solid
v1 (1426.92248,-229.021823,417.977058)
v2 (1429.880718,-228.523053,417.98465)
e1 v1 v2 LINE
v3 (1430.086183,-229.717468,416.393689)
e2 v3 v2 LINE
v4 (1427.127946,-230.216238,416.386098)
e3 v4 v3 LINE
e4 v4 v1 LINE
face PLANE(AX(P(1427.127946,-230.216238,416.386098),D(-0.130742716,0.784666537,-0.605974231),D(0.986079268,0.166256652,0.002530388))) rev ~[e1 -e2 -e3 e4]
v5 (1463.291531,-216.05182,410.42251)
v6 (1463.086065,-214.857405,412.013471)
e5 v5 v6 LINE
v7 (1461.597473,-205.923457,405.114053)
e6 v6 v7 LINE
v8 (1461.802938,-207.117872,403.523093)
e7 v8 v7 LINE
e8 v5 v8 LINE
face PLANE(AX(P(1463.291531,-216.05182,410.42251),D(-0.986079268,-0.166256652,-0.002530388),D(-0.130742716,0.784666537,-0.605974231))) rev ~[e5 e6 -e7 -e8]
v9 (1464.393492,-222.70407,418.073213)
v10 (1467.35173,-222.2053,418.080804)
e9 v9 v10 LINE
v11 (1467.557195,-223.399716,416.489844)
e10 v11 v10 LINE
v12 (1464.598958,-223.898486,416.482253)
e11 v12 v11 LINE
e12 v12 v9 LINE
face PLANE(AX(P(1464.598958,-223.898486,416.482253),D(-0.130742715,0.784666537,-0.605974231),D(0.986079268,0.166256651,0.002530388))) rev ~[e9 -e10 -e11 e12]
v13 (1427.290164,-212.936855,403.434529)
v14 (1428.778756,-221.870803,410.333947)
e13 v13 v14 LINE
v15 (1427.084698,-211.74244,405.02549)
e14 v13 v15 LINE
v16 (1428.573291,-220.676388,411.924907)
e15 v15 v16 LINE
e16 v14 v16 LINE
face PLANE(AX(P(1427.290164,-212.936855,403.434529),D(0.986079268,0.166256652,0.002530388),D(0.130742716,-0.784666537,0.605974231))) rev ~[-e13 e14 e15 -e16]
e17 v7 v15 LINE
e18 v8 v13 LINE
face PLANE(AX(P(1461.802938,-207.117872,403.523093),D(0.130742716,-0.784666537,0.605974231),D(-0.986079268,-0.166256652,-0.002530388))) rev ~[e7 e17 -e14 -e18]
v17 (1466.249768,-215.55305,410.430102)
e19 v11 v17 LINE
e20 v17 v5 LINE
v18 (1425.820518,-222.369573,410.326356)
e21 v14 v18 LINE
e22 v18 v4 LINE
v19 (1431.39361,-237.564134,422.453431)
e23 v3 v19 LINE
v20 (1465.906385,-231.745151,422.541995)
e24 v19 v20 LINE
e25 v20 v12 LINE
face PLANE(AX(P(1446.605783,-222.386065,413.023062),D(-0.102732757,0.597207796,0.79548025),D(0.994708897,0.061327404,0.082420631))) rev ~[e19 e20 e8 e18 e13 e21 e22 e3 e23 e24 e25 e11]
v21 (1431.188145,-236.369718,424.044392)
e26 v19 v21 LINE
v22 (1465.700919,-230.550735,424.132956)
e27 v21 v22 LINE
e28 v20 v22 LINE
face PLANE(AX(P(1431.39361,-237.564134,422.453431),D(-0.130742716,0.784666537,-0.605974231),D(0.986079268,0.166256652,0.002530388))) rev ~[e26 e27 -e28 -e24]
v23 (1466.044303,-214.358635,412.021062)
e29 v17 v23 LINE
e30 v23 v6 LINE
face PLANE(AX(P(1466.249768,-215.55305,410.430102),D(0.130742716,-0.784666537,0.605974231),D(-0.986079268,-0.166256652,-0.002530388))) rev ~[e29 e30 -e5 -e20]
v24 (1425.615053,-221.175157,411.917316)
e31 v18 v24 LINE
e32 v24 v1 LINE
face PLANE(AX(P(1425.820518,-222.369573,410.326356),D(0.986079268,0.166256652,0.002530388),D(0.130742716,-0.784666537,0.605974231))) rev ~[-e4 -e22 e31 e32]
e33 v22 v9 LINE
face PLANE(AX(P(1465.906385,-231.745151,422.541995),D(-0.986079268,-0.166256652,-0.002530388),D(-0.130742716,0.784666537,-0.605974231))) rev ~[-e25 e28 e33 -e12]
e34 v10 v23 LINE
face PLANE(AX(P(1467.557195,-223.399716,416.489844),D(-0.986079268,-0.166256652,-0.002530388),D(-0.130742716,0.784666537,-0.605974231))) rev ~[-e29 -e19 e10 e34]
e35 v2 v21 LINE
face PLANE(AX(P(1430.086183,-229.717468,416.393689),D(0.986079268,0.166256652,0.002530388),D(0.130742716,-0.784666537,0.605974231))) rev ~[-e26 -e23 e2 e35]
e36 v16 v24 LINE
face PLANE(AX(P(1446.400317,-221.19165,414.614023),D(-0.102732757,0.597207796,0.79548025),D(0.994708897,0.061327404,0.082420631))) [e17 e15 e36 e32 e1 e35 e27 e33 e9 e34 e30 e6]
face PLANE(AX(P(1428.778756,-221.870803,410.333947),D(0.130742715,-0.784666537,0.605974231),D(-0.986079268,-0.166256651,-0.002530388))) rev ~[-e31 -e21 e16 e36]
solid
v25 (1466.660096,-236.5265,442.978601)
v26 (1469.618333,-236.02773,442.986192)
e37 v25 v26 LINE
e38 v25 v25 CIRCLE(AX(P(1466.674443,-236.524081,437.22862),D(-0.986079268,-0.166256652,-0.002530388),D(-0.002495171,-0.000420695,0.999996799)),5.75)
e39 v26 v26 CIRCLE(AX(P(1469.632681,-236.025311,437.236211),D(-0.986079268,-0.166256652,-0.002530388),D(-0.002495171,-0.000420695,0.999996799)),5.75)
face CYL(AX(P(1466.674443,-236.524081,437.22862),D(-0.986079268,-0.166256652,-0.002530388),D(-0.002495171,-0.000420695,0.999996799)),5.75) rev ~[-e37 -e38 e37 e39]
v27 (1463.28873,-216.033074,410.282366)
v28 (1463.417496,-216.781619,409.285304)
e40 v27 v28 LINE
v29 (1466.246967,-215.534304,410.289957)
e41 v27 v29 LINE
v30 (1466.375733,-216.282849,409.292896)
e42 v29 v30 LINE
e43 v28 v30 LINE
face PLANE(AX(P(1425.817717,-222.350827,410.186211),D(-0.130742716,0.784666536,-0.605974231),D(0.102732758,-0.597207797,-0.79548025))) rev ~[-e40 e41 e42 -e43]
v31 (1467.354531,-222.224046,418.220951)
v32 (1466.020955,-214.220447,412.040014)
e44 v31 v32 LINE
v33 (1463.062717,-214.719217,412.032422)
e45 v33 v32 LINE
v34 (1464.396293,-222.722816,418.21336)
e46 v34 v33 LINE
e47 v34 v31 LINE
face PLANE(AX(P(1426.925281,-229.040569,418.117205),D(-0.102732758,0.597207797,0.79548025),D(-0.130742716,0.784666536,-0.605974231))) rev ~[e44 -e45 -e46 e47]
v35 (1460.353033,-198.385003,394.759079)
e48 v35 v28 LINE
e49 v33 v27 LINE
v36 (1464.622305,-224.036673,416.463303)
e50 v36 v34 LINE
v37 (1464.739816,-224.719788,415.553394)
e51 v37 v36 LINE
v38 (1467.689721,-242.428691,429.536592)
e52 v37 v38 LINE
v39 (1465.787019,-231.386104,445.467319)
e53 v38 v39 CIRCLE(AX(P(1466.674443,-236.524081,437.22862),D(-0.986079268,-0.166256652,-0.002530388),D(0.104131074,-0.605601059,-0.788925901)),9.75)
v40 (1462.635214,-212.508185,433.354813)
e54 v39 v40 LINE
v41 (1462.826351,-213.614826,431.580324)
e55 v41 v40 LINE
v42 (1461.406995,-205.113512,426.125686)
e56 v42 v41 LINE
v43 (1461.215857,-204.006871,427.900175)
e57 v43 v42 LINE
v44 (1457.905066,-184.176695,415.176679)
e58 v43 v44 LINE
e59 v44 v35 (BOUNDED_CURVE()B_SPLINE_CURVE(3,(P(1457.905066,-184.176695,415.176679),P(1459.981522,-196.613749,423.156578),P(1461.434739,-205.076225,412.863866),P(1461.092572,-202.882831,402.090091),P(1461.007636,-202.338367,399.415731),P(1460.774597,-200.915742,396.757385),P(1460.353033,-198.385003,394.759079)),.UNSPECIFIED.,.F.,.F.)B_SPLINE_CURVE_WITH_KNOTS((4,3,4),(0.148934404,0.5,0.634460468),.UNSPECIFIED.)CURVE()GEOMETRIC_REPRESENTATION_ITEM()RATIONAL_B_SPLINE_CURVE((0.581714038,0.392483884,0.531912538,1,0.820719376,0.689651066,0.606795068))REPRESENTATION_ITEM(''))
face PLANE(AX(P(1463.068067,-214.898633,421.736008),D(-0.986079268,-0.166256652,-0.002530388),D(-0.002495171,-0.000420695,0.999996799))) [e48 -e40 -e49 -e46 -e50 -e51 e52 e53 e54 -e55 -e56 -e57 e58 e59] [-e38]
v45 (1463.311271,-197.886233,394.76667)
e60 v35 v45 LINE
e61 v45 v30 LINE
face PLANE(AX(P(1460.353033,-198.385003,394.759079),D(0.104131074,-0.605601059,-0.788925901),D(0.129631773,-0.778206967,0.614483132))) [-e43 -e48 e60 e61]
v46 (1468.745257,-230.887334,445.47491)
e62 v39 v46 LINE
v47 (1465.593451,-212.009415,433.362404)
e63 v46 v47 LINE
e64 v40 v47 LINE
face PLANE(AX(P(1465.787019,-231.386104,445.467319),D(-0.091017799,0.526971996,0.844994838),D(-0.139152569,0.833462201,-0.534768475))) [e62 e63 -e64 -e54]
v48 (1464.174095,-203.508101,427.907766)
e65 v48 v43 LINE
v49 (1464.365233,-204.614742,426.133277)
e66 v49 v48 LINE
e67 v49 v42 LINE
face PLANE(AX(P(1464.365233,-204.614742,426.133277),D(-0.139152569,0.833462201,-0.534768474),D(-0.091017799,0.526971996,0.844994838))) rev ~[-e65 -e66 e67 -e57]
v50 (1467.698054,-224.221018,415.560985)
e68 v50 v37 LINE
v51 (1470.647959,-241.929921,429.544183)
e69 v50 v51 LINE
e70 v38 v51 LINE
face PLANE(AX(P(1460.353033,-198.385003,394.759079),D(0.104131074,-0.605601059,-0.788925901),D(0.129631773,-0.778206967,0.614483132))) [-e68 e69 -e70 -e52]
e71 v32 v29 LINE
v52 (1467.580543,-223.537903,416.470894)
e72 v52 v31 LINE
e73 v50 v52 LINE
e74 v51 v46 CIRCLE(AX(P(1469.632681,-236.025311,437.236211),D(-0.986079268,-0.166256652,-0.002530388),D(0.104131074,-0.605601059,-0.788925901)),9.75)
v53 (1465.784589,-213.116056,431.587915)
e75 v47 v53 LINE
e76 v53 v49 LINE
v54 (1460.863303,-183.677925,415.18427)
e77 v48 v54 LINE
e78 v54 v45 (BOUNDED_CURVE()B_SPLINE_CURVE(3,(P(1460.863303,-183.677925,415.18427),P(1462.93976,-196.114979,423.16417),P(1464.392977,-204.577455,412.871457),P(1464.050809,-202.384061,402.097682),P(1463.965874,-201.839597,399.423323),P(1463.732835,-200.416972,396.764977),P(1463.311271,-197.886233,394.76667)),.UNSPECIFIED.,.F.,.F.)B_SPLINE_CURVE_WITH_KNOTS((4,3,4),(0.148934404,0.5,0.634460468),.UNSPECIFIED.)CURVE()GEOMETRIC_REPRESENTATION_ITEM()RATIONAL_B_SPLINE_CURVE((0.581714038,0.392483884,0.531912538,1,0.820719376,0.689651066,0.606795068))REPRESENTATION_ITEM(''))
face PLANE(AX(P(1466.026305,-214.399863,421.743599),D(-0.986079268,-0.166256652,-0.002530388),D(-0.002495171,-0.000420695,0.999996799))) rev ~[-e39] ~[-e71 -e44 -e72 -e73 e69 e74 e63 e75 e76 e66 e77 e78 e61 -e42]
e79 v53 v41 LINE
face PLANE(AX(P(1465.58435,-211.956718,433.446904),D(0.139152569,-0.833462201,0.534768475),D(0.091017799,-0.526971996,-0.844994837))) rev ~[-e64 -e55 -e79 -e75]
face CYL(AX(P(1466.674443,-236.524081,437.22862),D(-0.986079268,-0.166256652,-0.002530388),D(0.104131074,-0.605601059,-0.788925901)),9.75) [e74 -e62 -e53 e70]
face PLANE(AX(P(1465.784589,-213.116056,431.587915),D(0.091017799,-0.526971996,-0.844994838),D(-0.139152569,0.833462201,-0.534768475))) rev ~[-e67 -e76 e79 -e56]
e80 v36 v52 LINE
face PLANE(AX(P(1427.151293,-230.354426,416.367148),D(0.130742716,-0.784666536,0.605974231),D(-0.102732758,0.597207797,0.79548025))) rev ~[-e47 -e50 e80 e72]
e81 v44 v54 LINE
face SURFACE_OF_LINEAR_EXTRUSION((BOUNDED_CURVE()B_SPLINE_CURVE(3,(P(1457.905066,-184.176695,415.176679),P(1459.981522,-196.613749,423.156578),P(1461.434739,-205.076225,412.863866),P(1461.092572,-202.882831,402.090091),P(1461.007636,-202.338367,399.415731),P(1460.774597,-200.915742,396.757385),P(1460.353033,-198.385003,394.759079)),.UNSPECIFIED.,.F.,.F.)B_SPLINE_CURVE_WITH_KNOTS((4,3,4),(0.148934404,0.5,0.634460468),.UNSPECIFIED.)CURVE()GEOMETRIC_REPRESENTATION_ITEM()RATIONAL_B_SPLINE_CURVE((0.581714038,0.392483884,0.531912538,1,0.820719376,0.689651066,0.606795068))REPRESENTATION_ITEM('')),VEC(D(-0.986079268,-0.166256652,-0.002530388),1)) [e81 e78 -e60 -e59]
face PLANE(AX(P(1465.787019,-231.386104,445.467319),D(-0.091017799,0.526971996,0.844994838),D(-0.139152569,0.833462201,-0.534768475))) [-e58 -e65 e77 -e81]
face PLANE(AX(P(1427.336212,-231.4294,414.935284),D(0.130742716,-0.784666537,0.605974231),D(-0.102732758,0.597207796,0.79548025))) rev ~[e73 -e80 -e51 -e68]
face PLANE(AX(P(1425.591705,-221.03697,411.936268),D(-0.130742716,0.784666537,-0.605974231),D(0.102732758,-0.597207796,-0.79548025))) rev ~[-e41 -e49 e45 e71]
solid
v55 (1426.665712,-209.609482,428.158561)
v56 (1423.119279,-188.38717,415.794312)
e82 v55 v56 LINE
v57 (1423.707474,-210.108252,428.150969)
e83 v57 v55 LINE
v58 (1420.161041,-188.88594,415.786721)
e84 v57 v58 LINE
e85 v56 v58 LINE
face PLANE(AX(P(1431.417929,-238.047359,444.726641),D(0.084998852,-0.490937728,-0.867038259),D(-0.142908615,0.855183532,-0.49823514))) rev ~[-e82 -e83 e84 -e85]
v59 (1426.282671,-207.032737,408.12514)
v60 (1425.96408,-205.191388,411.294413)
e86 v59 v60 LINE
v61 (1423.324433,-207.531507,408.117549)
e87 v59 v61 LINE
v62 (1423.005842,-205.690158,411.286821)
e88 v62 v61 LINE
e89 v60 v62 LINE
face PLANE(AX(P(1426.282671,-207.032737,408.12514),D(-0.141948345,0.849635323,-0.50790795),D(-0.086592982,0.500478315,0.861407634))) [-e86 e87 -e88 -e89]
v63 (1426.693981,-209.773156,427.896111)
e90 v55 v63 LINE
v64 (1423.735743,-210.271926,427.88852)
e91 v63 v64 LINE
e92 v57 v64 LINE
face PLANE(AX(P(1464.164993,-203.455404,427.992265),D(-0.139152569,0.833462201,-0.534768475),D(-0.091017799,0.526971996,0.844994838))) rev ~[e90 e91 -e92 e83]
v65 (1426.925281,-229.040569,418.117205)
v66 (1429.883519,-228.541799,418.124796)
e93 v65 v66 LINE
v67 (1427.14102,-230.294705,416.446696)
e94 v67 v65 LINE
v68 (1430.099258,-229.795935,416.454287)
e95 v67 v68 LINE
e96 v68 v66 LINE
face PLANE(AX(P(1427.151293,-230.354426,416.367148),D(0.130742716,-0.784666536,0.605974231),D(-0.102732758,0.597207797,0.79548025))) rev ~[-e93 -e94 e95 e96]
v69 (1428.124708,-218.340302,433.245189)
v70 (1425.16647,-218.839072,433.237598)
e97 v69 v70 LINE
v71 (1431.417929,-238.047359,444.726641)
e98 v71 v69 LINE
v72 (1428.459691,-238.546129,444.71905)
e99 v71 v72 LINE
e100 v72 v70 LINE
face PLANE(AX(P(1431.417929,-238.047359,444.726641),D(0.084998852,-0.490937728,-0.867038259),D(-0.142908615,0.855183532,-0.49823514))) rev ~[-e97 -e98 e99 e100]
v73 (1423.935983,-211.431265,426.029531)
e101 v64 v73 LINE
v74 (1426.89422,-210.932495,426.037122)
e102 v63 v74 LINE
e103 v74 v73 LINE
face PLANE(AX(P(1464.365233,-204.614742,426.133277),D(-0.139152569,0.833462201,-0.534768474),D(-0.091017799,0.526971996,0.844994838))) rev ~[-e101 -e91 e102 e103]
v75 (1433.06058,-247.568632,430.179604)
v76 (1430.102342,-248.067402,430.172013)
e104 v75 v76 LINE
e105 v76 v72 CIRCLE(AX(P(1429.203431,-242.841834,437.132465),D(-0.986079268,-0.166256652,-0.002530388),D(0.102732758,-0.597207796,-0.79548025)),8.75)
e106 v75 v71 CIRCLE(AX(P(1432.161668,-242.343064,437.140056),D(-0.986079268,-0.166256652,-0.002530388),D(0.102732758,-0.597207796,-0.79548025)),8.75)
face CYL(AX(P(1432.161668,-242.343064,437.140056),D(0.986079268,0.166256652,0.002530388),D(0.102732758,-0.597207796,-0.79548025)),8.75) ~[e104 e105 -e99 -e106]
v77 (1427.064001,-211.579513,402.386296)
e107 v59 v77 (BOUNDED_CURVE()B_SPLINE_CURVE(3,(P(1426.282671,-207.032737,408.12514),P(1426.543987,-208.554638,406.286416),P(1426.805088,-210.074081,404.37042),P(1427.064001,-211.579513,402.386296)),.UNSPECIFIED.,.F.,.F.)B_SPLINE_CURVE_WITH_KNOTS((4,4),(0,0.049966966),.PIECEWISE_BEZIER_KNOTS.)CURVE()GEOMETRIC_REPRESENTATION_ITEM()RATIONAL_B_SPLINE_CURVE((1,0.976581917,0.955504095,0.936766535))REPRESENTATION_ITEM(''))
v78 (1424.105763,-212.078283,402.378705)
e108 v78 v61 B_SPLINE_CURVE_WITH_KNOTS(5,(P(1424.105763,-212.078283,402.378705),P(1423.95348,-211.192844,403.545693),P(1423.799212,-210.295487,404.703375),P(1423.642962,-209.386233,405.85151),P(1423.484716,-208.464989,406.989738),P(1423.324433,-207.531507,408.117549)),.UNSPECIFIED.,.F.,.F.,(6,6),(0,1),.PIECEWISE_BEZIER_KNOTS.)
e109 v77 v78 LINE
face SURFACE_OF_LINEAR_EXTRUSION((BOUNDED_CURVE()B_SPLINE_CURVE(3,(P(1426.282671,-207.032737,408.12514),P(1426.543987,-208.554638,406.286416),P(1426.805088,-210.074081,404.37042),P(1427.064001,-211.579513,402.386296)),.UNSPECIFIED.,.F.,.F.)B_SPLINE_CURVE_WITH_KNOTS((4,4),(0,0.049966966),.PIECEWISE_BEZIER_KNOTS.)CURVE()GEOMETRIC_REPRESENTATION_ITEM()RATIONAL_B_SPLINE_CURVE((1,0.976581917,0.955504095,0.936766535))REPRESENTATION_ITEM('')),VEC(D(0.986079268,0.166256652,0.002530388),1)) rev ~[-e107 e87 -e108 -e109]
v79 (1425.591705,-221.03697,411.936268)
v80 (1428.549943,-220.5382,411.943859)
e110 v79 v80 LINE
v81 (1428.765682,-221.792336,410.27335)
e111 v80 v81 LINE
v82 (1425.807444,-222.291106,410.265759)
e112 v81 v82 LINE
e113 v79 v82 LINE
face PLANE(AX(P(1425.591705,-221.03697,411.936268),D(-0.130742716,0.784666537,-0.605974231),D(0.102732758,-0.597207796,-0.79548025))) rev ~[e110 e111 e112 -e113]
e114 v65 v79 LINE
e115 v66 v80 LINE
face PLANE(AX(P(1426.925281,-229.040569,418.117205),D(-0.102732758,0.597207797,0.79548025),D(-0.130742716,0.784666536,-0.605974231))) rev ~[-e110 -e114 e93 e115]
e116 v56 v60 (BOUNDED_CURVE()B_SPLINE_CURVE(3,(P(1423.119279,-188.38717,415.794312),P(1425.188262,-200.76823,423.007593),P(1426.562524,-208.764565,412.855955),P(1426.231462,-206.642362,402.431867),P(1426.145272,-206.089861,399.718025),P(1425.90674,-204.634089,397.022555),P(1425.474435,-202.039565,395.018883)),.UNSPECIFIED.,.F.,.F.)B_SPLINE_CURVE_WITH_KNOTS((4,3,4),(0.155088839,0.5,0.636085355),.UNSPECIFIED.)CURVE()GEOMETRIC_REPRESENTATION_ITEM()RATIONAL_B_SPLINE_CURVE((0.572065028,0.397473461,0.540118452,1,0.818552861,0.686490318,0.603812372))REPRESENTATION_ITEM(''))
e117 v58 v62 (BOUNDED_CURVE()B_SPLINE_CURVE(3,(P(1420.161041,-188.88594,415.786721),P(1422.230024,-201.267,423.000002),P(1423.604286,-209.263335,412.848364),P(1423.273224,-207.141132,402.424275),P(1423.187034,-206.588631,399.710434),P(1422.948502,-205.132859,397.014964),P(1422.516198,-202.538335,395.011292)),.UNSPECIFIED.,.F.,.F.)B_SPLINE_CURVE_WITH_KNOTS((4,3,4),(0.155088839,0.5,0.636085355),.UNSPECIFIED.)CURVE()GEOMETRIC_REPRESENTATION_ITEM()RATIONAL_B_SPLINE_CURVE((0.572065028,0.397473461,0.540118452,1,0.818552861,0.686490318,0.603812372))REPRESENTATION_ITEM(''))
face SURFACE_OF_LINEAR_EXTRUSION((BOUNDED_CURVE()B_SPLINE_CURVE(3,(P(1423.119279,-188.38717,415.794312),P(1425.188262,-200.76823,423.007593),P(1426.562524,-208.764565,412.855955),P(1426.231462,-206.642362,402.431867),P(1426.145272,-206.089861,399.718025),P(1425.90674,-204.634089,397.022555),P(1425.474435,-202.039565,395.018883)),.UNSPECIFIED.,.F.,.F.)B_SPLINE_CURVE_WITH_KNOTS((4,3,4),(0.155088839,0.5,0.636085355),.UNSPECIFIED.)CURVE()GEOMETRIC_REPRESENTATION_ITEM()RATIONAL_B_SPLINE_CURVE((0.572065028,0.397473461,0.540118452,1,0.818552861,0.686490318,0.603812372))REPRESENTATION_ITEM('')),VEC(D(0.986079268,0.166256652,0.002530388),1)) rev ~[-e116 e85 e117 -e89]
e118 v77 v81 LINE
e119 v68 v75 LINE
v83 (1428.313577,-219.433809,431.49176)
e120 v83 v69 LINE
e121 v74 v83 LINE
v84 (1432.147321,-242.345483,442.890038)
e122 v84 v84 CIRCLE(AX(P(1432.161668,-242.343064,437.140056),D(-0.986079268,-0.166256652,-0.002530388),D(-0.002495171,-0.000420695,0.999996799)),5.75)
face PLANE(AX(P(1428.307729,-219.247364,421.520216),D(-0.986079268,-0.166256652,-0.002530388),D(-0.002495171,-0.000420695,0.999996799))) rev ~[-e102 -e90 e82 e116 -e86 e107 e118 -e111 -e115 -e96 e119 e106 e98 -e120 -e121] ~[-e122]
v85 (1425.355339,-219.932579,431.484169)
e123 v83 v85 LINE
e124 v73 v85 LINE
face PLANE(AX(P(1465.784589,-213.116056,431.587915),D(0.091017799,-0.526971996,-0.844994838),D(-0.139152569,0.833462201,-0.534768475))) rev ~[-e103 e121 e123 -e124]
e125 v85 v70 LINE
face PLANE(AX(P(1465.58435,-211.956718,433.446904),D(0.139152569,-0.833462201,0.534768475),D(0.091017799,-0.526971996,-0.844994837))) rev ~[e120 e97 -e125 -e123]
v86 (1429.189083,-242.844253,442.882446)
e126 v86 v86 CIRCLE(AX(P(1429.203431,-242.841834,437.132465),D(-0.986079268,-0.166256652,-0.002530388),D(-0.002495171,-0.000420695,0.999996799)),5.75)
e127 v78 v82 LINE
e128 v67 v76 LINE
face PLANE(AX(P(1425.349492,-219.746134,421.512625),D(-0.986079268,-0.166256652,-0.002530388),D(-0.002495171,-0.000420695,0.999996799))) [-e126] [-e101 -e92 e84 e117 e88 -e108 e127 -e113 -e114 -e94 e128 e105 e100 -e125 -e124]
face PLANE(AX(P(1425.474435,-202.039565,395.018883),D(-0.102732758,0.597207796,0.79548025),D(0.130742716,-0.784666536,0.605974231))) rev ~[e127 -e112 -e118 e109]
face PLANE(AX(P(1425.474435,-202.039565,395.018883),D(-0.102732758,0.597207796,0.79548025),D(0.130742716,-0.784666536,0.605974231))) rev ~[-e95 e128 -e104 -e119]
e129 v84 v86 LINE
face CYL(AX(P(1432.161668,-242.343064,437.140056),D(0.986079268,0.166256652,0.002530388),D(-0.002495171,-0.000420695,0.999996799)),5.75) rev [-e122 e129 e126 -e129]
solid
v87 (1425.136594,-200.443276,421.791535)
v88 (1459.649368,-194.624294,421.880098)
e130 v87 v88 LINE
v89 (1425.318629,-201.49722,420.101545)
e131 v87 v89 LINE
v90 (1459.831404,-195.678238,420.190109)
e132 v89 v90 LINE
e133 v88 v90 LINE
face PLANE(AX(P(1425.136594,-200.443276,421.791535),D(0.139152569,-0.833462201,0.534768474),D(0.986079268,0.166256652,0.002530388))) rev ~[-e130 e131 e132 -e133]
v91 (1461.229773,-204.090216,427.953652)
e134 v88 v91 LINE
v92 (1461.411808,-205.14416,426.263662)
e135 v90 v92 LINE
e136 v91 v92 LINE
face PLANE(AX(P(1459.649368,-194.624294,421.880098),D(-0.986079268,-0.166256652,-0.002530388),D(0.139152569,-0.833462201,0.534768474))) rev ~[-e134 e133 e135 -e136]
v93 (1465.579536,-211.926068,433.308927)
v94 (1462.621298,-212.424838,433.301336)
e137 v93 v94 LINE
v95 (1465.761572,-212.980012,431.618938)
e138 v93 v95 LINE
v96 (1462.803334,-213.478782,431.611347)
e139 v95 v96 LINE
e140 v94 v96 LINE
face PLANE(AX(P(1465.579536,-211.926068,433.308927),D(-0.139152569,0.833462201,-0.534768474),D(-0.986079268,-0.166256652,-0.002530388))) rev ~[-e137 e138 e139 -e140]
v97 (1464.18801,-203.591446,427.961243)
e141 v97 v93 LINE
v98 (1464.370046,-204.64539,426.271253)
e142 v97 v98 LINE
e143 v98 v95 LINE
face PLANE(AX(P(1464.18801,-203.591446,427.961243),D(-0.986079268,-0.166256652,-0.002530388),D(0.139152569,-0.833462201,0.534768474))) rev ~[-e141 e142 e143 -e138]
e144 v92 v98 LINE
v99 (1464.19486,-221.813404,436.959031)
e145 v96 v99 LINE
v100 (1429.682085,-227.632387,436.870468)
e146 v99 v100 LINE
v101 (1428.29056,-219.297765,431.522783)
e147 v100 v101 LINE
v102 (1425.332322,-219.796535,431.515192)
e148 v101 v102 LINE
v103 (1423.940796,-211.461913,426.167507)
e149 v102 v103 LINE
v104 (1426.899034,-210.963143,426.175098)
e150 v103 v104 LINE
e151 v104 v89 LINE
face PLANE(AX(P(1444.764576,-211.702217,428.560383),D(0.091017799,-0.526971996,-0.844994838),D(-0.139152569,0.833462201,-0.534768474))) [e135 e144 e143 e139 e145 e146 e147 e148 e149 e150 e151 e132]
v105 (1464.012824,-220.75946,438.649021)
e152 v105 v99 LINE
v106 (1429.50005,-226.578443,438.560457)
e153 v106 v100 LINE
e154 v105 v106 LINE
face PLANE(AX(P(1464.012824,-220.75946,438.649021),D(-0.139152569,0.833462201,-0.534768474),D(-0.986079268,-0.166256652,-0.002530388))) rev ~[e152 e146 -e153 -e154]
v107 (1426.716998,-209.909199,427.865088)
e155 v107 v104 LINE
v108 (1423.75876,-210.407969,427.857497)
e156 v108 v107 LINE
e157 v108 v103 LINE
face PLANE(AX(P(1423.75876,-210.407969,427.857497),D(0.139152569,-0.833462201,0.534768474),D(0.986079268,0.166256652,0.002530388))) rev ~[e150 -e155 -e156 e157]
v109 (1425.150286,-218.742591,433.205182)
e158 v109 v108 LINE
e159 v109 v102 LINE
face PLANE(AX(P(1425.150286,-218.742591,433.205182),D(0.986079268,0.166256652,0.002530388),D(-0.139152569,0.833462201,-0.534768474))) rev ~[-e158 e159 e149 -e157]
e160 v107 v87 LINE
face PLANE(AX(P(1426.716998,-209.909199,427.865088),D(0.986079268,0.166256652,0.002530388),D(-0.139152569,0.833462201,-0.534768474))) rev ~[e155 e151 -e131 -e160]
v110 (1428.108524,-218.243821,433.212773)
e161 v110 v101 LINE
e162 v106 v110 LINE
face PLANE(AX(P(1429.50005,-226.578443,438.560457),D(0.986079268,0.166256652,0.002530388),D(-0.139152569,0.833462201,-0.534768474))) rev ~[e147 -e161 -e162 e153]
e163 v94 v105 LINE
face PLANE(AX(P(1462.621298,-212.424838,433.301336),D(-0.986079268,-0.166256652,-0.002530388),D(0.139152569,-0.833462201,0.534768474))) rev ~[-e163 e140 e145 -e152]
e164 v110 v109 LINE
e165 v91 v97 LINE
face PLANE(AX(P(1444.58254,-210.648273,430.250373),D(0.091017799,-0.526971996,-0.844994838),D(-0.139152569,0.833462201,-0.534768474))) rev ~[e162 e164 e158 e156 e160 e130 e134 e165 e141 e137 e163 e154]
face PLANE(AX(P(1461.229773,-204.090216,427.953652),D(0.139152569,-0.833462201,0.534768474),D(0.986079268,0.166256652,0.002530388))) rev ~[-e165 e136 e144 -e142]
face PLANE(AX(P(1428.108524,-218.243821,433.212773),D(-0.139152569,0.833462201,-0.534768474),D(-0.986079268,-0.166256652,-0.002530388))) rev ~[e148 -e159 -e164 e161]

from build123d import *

# Parameters (mm, degrees)
SZKIC1_R                    = 5.75
DODANIE_WYCI_GNI_CIE1_DEPTH = 3
WYTNIJ_WYCI_GNI_CIE2_DEPTH  = 4
SZKIC3_R                    = 5.75
DODANIE_WYCI_GNI_CIE2_DEPTH = 3
DODANIE_WYCI_GNI_CIE3_DEPTH = 2
WYTNIJ_WYCI_GNI_CIE5_DEPTH  = 52.458233786
DODANIE_WYCI_GNI_CIE4_DEPTH = 2
WYTNIJ_WYCI_GNI_CIE6_DEPTH  = 52.326394369


with BuildPart() as part:
    # Szkic1 → Dodanie-wyciągnięcie1 (new body)
    with BuildSketch(Plane(origin=(1353.926196645, 228.277019177, 3.474323827), x_dir=(-0.002495171, -0.000420695, 0.999996799), z_dir=(-0.986079268, -0.166256652, -0.002530388))):
        with BuildLine():
            Line((441.253729445, -472.717830488), (412.321307972, -422.369080805))
            add(Edge.make_bspline(
                [(412.321307972, -422.369080805), (419.534612329, -434.921810131), (409.382942082, -443.035336139), (398.958819921, -440.887627989), (396.244969441, -440.328486537), (393.549490929, -438.853317877), (391.545812295, -436.223029822)],
                knots=[0.155088839, 0.155088839, 0.155088839, 0.155088839, 0.5, 0.5, 0.5, 0.636085355, 0.636085355, 0.636085355, 0.636085355], degree=3, weights=[0.572065028, 0.397473461, 0.540118452, 1, 0.818552861, 0.686490318, 0.603812372]))
            Line((391.545812295, -436.223029822), (426.706645918, -482.379693415))
            ThreePointArc((426.706645918, -482.379693415), (438.50818535, -484.366200864), (441.253729445, -472.717830488))
        make_face()
        with Locations((433.667120391, -477.077401919)):
            Circle(SZKIC1_R, mode=Mode.SUBTRACT)
    extrude(amount=DODANIE_WYCI_GNI_CIE1_DEPTH)

    # Szkic2 → Wytnij-wyciągnięcie2 (cut)
    with BuildSketch(Plane(origin=(1353.926196645, 228.277019177, 3.474323827), x_dir=(-0.002495171, -0.000420695, 0.999996799), z_dir=(-0.986079268, -0.166256652, -0.002530388))):
        with BuildLine():
            Line((404.65211173, -441.281083771), (407.821394229, -439.412393836))
            add(Edge.make_bspline(
                [(407.821394229, -439.412393836), (404.88822276, -441.141866675), (401.74377418, -441.461419131), (398.958819921, -440.887627989), (396.244969441, -440.328486537), (393.549490929, -438.853317877), (391.545812295, -436.223029822)],
                knots=[0.36100992, 0.36100992, 0.36100992, 0.36100992, 0.5, 0.5, 0.5, 0.636085355, 0.636085355, 0.636085355, 0.636085355], degree=3, weights=[0.598585618, 0.680875099, 0.814679893, 1, 0.818552861, 0.686490318, 0.603812372]))
            Line((391.545812295, -436.223029822), (398.913248998, -445.894481333))
            add(Edge.make_bspline(
                [(404.65211173, -441.281083771), (402.813382058, -442.825248985), (400.897379873, -444.366955046), (398.913248998, -445.894481333)],
                knots=[0, 0, 0, 0, 0.049966966, 0.049966966, 0.049966966, 0.049966966], degree=3, weights=[1, 0.976581917, 0.955504095, 0.936766535]))
        make_face()
    extrude(amount=WYTNIJ_WYCI_GNI_CIE2_DEPTH, mode=Mode.SUBTRACT)


with BuildPart() as body_2:
    # Szkic3 → Dodanie-wyciągnięcie2 (new body)
    with BuildSketch(Plane(origin=(1388.438971028, 234.096001984, 3.562887409), x_dir=(-0.002495171, -0.000420695, 0.999996799), z_dir=(-0.986079268, -0.166256652, -0.002530388))):
        with BuildLine():
            ThreePointArc((425.97506823, -483.068631638), (439.276403639, -485.052265017), (441.905846435, -471.8633926))
            Line((441.905846435, -471.8633926), (411.615109292, -424.000592643))
            add(Edge.make_bspline(
                [(411.615109292, -424.000592643), (419.595034213, -436.609779022), (409.302289126, -445.196085213), (398.528479374, -442.976330047), (395.854111239, -442.425323243), (393.195756664, -440.983753213), (391.197443428, -438.418148092)],
                knots=[0.148934404, 0.148934404, 0.148934404, 0.148934404, 0.5, 0.5, 0.5, 0.634460468, 0.634460468, 0.634460468, 0.634460468], degree=3, weights=[0.581714038, 0.392483884, 0.531912538, 1, 0.820719376, 0.689651066, 0.606795068]))
            Line((391.197443428, -438.418148092), (425.97506823, -483.068631638))
        make_face()
        with Locations((433.667120391, -477.077401919)):
            Circle(SZKIC3_R, mode=Mode.SUBTRACT)
    extrude(amount=-DODANIE_WYCI_GNI_CIE2_DEPTH)


with BuildPart() as body_3:
    # Szkic5 → Dodanie-wyciągnięcie3 (new body)
    with BuildSketch(Plane(origin=(-11.019604992, 63.800963274, 102.304268594), x_dir=(-0.139152569, 0.833462201, -0.534768474), z_dir=(0.091017799, -0.526971996, -0.844994838))):
        Polygon((-622.291479281, 1373.039917254), (-612.291479281, 1373.039917254), (-612.291479281, 1370.039917254), (-602.291479281, 1370.039917254), (-602.291479281, 1373.039917254), (-590.934128354, 1373.039917254), (-590.934128354, 1408.039917254), (-602.291479281, 1408.039917254), (-602.291479281, 1411.039917254), (-612.291479281, 1411.039917254), (-612.291479281, 1408.039917254), (-622.291479281, 1408.039917254), align=None)
    extrude(amount=DODANIE_WYCI_GNI_CIE3_DEPTH)


with BuildPart() as wytnij_wyci_gni_cie5_tool:
    # Szkic6 → Wytnij-wyciągnięcie5 (new body, through all)
    with BuildSketch(Plane(origin=(1391.397208832, 234.594771939, 3.570478573), x_dir=(0.002495171, 0.000420695, -0.999996799), z_dir=(0.986079268, 0.166256652, 0.002530388))):
        Polygon((-429.877801464, -452.670721233), (-428.01880687, -453.847215644), (-422.564150967, -445.228240705), (-424.423145562, -444.051746295), (-425.099143596, -443.623930146), (-430.553799499, -452.242905084), align=None)
    extrude(amount=-WYTNIJ_WYCI_GNI_CIE5_DEPTH)


with BuildPart() as body_2_1:
    add(body_2.part)

    # Wytnij-wyciągnięcie5: cut by wytnij_wyci_gni_cie5_tool
    add(wytnij_wyci_gni_cie5_tool.part, mode=Mode.SUBTRACT)


with BuildPart() as part_1:
    add(part.part)

    # Wytnij-wyciągnięcie5: cut by wytnij_wyci_gni_cie5_tool
    add(wytnij_wyci_gni_cie5_tool.part, mode=Mode.SUBTRACT)


with BuildPart() as body_4:
    # Szkic8 → Dodanie-wyciągnięcie4 (new body)
    with BuildSketch(Plane(origin=(-4.841506853, 28.144729202, 37.488754103), x_dir=(-0.994708897, -0.061327404, -0.082420631), z_dir=(0.102732757, -0.597207796, -0.79548025))):
        Polygon((-1476.126488844, -418.541211572), (-1474.62501424, -407.254986635), (-1439.930687938, -411.870582206), (-1441.432162542, -423.156807143), (-1438.458363145, -423.55242962), (-1439.777104737, -433.465094278), (-1442.750904134, -433.0694718), (-1444.069645726, -442.982136458), (-1478.763972027, -438.366540887), (-1477.445230435, -428.453876229), (-1480.419029833, -428.058253752), (-1479.100288241, -418.145589094), align=None)
    extrude(amount=-DODANIE_WYCI_GNI_CIE4_DEPTH)


with BuildPart() as wytnij_wyci_gni_cie6_tool:
    # Szkic9 → Wytnij-wyciągnięcie6 (new body, through all)
    with BuildSketch(Plane(origin=(1350.967958841, 227.778249223, 3.466732662), x_dir=(-0.002495171, -0.000420695, 0.999996799), z_dir=(-0.986079268, -0.166256652, -0.002530388))):
        Polygon((412.901737365, -464.422605683), (414.651799518, -463.089458106), (408.470842573, -454.975533578), (406.72078042, -456.308681154), (405.288911386, -457.399438262), (411.46986833, -465.513362791), align=None)
    extrude(amount=-WYTNIJ_WYCI_GNI_CIE6_DEPTH)


with BuildPart() as body_2_2:
    add(body_2_1.part)

    # Wytnij-wyciągnięcie6: cut by wytnij_wyci_gni_cie6_tool
    add(wytnij_wyci_gni_cie6_tool.part, mode=Mode.SUBTRACT)


with BuildPart() as part_2:
    add(part_1.part)

    # Wytnij-wyciągnięcie6: cut by wytnij_wyci_gni_cie6_tool
    add(wytnij_wyci_gni_cie6_tool.part, mode=Mode.SUBTRACT)


solid = Compound([body_3.part, body_4.part, body_2_2.part, part_2.part])
